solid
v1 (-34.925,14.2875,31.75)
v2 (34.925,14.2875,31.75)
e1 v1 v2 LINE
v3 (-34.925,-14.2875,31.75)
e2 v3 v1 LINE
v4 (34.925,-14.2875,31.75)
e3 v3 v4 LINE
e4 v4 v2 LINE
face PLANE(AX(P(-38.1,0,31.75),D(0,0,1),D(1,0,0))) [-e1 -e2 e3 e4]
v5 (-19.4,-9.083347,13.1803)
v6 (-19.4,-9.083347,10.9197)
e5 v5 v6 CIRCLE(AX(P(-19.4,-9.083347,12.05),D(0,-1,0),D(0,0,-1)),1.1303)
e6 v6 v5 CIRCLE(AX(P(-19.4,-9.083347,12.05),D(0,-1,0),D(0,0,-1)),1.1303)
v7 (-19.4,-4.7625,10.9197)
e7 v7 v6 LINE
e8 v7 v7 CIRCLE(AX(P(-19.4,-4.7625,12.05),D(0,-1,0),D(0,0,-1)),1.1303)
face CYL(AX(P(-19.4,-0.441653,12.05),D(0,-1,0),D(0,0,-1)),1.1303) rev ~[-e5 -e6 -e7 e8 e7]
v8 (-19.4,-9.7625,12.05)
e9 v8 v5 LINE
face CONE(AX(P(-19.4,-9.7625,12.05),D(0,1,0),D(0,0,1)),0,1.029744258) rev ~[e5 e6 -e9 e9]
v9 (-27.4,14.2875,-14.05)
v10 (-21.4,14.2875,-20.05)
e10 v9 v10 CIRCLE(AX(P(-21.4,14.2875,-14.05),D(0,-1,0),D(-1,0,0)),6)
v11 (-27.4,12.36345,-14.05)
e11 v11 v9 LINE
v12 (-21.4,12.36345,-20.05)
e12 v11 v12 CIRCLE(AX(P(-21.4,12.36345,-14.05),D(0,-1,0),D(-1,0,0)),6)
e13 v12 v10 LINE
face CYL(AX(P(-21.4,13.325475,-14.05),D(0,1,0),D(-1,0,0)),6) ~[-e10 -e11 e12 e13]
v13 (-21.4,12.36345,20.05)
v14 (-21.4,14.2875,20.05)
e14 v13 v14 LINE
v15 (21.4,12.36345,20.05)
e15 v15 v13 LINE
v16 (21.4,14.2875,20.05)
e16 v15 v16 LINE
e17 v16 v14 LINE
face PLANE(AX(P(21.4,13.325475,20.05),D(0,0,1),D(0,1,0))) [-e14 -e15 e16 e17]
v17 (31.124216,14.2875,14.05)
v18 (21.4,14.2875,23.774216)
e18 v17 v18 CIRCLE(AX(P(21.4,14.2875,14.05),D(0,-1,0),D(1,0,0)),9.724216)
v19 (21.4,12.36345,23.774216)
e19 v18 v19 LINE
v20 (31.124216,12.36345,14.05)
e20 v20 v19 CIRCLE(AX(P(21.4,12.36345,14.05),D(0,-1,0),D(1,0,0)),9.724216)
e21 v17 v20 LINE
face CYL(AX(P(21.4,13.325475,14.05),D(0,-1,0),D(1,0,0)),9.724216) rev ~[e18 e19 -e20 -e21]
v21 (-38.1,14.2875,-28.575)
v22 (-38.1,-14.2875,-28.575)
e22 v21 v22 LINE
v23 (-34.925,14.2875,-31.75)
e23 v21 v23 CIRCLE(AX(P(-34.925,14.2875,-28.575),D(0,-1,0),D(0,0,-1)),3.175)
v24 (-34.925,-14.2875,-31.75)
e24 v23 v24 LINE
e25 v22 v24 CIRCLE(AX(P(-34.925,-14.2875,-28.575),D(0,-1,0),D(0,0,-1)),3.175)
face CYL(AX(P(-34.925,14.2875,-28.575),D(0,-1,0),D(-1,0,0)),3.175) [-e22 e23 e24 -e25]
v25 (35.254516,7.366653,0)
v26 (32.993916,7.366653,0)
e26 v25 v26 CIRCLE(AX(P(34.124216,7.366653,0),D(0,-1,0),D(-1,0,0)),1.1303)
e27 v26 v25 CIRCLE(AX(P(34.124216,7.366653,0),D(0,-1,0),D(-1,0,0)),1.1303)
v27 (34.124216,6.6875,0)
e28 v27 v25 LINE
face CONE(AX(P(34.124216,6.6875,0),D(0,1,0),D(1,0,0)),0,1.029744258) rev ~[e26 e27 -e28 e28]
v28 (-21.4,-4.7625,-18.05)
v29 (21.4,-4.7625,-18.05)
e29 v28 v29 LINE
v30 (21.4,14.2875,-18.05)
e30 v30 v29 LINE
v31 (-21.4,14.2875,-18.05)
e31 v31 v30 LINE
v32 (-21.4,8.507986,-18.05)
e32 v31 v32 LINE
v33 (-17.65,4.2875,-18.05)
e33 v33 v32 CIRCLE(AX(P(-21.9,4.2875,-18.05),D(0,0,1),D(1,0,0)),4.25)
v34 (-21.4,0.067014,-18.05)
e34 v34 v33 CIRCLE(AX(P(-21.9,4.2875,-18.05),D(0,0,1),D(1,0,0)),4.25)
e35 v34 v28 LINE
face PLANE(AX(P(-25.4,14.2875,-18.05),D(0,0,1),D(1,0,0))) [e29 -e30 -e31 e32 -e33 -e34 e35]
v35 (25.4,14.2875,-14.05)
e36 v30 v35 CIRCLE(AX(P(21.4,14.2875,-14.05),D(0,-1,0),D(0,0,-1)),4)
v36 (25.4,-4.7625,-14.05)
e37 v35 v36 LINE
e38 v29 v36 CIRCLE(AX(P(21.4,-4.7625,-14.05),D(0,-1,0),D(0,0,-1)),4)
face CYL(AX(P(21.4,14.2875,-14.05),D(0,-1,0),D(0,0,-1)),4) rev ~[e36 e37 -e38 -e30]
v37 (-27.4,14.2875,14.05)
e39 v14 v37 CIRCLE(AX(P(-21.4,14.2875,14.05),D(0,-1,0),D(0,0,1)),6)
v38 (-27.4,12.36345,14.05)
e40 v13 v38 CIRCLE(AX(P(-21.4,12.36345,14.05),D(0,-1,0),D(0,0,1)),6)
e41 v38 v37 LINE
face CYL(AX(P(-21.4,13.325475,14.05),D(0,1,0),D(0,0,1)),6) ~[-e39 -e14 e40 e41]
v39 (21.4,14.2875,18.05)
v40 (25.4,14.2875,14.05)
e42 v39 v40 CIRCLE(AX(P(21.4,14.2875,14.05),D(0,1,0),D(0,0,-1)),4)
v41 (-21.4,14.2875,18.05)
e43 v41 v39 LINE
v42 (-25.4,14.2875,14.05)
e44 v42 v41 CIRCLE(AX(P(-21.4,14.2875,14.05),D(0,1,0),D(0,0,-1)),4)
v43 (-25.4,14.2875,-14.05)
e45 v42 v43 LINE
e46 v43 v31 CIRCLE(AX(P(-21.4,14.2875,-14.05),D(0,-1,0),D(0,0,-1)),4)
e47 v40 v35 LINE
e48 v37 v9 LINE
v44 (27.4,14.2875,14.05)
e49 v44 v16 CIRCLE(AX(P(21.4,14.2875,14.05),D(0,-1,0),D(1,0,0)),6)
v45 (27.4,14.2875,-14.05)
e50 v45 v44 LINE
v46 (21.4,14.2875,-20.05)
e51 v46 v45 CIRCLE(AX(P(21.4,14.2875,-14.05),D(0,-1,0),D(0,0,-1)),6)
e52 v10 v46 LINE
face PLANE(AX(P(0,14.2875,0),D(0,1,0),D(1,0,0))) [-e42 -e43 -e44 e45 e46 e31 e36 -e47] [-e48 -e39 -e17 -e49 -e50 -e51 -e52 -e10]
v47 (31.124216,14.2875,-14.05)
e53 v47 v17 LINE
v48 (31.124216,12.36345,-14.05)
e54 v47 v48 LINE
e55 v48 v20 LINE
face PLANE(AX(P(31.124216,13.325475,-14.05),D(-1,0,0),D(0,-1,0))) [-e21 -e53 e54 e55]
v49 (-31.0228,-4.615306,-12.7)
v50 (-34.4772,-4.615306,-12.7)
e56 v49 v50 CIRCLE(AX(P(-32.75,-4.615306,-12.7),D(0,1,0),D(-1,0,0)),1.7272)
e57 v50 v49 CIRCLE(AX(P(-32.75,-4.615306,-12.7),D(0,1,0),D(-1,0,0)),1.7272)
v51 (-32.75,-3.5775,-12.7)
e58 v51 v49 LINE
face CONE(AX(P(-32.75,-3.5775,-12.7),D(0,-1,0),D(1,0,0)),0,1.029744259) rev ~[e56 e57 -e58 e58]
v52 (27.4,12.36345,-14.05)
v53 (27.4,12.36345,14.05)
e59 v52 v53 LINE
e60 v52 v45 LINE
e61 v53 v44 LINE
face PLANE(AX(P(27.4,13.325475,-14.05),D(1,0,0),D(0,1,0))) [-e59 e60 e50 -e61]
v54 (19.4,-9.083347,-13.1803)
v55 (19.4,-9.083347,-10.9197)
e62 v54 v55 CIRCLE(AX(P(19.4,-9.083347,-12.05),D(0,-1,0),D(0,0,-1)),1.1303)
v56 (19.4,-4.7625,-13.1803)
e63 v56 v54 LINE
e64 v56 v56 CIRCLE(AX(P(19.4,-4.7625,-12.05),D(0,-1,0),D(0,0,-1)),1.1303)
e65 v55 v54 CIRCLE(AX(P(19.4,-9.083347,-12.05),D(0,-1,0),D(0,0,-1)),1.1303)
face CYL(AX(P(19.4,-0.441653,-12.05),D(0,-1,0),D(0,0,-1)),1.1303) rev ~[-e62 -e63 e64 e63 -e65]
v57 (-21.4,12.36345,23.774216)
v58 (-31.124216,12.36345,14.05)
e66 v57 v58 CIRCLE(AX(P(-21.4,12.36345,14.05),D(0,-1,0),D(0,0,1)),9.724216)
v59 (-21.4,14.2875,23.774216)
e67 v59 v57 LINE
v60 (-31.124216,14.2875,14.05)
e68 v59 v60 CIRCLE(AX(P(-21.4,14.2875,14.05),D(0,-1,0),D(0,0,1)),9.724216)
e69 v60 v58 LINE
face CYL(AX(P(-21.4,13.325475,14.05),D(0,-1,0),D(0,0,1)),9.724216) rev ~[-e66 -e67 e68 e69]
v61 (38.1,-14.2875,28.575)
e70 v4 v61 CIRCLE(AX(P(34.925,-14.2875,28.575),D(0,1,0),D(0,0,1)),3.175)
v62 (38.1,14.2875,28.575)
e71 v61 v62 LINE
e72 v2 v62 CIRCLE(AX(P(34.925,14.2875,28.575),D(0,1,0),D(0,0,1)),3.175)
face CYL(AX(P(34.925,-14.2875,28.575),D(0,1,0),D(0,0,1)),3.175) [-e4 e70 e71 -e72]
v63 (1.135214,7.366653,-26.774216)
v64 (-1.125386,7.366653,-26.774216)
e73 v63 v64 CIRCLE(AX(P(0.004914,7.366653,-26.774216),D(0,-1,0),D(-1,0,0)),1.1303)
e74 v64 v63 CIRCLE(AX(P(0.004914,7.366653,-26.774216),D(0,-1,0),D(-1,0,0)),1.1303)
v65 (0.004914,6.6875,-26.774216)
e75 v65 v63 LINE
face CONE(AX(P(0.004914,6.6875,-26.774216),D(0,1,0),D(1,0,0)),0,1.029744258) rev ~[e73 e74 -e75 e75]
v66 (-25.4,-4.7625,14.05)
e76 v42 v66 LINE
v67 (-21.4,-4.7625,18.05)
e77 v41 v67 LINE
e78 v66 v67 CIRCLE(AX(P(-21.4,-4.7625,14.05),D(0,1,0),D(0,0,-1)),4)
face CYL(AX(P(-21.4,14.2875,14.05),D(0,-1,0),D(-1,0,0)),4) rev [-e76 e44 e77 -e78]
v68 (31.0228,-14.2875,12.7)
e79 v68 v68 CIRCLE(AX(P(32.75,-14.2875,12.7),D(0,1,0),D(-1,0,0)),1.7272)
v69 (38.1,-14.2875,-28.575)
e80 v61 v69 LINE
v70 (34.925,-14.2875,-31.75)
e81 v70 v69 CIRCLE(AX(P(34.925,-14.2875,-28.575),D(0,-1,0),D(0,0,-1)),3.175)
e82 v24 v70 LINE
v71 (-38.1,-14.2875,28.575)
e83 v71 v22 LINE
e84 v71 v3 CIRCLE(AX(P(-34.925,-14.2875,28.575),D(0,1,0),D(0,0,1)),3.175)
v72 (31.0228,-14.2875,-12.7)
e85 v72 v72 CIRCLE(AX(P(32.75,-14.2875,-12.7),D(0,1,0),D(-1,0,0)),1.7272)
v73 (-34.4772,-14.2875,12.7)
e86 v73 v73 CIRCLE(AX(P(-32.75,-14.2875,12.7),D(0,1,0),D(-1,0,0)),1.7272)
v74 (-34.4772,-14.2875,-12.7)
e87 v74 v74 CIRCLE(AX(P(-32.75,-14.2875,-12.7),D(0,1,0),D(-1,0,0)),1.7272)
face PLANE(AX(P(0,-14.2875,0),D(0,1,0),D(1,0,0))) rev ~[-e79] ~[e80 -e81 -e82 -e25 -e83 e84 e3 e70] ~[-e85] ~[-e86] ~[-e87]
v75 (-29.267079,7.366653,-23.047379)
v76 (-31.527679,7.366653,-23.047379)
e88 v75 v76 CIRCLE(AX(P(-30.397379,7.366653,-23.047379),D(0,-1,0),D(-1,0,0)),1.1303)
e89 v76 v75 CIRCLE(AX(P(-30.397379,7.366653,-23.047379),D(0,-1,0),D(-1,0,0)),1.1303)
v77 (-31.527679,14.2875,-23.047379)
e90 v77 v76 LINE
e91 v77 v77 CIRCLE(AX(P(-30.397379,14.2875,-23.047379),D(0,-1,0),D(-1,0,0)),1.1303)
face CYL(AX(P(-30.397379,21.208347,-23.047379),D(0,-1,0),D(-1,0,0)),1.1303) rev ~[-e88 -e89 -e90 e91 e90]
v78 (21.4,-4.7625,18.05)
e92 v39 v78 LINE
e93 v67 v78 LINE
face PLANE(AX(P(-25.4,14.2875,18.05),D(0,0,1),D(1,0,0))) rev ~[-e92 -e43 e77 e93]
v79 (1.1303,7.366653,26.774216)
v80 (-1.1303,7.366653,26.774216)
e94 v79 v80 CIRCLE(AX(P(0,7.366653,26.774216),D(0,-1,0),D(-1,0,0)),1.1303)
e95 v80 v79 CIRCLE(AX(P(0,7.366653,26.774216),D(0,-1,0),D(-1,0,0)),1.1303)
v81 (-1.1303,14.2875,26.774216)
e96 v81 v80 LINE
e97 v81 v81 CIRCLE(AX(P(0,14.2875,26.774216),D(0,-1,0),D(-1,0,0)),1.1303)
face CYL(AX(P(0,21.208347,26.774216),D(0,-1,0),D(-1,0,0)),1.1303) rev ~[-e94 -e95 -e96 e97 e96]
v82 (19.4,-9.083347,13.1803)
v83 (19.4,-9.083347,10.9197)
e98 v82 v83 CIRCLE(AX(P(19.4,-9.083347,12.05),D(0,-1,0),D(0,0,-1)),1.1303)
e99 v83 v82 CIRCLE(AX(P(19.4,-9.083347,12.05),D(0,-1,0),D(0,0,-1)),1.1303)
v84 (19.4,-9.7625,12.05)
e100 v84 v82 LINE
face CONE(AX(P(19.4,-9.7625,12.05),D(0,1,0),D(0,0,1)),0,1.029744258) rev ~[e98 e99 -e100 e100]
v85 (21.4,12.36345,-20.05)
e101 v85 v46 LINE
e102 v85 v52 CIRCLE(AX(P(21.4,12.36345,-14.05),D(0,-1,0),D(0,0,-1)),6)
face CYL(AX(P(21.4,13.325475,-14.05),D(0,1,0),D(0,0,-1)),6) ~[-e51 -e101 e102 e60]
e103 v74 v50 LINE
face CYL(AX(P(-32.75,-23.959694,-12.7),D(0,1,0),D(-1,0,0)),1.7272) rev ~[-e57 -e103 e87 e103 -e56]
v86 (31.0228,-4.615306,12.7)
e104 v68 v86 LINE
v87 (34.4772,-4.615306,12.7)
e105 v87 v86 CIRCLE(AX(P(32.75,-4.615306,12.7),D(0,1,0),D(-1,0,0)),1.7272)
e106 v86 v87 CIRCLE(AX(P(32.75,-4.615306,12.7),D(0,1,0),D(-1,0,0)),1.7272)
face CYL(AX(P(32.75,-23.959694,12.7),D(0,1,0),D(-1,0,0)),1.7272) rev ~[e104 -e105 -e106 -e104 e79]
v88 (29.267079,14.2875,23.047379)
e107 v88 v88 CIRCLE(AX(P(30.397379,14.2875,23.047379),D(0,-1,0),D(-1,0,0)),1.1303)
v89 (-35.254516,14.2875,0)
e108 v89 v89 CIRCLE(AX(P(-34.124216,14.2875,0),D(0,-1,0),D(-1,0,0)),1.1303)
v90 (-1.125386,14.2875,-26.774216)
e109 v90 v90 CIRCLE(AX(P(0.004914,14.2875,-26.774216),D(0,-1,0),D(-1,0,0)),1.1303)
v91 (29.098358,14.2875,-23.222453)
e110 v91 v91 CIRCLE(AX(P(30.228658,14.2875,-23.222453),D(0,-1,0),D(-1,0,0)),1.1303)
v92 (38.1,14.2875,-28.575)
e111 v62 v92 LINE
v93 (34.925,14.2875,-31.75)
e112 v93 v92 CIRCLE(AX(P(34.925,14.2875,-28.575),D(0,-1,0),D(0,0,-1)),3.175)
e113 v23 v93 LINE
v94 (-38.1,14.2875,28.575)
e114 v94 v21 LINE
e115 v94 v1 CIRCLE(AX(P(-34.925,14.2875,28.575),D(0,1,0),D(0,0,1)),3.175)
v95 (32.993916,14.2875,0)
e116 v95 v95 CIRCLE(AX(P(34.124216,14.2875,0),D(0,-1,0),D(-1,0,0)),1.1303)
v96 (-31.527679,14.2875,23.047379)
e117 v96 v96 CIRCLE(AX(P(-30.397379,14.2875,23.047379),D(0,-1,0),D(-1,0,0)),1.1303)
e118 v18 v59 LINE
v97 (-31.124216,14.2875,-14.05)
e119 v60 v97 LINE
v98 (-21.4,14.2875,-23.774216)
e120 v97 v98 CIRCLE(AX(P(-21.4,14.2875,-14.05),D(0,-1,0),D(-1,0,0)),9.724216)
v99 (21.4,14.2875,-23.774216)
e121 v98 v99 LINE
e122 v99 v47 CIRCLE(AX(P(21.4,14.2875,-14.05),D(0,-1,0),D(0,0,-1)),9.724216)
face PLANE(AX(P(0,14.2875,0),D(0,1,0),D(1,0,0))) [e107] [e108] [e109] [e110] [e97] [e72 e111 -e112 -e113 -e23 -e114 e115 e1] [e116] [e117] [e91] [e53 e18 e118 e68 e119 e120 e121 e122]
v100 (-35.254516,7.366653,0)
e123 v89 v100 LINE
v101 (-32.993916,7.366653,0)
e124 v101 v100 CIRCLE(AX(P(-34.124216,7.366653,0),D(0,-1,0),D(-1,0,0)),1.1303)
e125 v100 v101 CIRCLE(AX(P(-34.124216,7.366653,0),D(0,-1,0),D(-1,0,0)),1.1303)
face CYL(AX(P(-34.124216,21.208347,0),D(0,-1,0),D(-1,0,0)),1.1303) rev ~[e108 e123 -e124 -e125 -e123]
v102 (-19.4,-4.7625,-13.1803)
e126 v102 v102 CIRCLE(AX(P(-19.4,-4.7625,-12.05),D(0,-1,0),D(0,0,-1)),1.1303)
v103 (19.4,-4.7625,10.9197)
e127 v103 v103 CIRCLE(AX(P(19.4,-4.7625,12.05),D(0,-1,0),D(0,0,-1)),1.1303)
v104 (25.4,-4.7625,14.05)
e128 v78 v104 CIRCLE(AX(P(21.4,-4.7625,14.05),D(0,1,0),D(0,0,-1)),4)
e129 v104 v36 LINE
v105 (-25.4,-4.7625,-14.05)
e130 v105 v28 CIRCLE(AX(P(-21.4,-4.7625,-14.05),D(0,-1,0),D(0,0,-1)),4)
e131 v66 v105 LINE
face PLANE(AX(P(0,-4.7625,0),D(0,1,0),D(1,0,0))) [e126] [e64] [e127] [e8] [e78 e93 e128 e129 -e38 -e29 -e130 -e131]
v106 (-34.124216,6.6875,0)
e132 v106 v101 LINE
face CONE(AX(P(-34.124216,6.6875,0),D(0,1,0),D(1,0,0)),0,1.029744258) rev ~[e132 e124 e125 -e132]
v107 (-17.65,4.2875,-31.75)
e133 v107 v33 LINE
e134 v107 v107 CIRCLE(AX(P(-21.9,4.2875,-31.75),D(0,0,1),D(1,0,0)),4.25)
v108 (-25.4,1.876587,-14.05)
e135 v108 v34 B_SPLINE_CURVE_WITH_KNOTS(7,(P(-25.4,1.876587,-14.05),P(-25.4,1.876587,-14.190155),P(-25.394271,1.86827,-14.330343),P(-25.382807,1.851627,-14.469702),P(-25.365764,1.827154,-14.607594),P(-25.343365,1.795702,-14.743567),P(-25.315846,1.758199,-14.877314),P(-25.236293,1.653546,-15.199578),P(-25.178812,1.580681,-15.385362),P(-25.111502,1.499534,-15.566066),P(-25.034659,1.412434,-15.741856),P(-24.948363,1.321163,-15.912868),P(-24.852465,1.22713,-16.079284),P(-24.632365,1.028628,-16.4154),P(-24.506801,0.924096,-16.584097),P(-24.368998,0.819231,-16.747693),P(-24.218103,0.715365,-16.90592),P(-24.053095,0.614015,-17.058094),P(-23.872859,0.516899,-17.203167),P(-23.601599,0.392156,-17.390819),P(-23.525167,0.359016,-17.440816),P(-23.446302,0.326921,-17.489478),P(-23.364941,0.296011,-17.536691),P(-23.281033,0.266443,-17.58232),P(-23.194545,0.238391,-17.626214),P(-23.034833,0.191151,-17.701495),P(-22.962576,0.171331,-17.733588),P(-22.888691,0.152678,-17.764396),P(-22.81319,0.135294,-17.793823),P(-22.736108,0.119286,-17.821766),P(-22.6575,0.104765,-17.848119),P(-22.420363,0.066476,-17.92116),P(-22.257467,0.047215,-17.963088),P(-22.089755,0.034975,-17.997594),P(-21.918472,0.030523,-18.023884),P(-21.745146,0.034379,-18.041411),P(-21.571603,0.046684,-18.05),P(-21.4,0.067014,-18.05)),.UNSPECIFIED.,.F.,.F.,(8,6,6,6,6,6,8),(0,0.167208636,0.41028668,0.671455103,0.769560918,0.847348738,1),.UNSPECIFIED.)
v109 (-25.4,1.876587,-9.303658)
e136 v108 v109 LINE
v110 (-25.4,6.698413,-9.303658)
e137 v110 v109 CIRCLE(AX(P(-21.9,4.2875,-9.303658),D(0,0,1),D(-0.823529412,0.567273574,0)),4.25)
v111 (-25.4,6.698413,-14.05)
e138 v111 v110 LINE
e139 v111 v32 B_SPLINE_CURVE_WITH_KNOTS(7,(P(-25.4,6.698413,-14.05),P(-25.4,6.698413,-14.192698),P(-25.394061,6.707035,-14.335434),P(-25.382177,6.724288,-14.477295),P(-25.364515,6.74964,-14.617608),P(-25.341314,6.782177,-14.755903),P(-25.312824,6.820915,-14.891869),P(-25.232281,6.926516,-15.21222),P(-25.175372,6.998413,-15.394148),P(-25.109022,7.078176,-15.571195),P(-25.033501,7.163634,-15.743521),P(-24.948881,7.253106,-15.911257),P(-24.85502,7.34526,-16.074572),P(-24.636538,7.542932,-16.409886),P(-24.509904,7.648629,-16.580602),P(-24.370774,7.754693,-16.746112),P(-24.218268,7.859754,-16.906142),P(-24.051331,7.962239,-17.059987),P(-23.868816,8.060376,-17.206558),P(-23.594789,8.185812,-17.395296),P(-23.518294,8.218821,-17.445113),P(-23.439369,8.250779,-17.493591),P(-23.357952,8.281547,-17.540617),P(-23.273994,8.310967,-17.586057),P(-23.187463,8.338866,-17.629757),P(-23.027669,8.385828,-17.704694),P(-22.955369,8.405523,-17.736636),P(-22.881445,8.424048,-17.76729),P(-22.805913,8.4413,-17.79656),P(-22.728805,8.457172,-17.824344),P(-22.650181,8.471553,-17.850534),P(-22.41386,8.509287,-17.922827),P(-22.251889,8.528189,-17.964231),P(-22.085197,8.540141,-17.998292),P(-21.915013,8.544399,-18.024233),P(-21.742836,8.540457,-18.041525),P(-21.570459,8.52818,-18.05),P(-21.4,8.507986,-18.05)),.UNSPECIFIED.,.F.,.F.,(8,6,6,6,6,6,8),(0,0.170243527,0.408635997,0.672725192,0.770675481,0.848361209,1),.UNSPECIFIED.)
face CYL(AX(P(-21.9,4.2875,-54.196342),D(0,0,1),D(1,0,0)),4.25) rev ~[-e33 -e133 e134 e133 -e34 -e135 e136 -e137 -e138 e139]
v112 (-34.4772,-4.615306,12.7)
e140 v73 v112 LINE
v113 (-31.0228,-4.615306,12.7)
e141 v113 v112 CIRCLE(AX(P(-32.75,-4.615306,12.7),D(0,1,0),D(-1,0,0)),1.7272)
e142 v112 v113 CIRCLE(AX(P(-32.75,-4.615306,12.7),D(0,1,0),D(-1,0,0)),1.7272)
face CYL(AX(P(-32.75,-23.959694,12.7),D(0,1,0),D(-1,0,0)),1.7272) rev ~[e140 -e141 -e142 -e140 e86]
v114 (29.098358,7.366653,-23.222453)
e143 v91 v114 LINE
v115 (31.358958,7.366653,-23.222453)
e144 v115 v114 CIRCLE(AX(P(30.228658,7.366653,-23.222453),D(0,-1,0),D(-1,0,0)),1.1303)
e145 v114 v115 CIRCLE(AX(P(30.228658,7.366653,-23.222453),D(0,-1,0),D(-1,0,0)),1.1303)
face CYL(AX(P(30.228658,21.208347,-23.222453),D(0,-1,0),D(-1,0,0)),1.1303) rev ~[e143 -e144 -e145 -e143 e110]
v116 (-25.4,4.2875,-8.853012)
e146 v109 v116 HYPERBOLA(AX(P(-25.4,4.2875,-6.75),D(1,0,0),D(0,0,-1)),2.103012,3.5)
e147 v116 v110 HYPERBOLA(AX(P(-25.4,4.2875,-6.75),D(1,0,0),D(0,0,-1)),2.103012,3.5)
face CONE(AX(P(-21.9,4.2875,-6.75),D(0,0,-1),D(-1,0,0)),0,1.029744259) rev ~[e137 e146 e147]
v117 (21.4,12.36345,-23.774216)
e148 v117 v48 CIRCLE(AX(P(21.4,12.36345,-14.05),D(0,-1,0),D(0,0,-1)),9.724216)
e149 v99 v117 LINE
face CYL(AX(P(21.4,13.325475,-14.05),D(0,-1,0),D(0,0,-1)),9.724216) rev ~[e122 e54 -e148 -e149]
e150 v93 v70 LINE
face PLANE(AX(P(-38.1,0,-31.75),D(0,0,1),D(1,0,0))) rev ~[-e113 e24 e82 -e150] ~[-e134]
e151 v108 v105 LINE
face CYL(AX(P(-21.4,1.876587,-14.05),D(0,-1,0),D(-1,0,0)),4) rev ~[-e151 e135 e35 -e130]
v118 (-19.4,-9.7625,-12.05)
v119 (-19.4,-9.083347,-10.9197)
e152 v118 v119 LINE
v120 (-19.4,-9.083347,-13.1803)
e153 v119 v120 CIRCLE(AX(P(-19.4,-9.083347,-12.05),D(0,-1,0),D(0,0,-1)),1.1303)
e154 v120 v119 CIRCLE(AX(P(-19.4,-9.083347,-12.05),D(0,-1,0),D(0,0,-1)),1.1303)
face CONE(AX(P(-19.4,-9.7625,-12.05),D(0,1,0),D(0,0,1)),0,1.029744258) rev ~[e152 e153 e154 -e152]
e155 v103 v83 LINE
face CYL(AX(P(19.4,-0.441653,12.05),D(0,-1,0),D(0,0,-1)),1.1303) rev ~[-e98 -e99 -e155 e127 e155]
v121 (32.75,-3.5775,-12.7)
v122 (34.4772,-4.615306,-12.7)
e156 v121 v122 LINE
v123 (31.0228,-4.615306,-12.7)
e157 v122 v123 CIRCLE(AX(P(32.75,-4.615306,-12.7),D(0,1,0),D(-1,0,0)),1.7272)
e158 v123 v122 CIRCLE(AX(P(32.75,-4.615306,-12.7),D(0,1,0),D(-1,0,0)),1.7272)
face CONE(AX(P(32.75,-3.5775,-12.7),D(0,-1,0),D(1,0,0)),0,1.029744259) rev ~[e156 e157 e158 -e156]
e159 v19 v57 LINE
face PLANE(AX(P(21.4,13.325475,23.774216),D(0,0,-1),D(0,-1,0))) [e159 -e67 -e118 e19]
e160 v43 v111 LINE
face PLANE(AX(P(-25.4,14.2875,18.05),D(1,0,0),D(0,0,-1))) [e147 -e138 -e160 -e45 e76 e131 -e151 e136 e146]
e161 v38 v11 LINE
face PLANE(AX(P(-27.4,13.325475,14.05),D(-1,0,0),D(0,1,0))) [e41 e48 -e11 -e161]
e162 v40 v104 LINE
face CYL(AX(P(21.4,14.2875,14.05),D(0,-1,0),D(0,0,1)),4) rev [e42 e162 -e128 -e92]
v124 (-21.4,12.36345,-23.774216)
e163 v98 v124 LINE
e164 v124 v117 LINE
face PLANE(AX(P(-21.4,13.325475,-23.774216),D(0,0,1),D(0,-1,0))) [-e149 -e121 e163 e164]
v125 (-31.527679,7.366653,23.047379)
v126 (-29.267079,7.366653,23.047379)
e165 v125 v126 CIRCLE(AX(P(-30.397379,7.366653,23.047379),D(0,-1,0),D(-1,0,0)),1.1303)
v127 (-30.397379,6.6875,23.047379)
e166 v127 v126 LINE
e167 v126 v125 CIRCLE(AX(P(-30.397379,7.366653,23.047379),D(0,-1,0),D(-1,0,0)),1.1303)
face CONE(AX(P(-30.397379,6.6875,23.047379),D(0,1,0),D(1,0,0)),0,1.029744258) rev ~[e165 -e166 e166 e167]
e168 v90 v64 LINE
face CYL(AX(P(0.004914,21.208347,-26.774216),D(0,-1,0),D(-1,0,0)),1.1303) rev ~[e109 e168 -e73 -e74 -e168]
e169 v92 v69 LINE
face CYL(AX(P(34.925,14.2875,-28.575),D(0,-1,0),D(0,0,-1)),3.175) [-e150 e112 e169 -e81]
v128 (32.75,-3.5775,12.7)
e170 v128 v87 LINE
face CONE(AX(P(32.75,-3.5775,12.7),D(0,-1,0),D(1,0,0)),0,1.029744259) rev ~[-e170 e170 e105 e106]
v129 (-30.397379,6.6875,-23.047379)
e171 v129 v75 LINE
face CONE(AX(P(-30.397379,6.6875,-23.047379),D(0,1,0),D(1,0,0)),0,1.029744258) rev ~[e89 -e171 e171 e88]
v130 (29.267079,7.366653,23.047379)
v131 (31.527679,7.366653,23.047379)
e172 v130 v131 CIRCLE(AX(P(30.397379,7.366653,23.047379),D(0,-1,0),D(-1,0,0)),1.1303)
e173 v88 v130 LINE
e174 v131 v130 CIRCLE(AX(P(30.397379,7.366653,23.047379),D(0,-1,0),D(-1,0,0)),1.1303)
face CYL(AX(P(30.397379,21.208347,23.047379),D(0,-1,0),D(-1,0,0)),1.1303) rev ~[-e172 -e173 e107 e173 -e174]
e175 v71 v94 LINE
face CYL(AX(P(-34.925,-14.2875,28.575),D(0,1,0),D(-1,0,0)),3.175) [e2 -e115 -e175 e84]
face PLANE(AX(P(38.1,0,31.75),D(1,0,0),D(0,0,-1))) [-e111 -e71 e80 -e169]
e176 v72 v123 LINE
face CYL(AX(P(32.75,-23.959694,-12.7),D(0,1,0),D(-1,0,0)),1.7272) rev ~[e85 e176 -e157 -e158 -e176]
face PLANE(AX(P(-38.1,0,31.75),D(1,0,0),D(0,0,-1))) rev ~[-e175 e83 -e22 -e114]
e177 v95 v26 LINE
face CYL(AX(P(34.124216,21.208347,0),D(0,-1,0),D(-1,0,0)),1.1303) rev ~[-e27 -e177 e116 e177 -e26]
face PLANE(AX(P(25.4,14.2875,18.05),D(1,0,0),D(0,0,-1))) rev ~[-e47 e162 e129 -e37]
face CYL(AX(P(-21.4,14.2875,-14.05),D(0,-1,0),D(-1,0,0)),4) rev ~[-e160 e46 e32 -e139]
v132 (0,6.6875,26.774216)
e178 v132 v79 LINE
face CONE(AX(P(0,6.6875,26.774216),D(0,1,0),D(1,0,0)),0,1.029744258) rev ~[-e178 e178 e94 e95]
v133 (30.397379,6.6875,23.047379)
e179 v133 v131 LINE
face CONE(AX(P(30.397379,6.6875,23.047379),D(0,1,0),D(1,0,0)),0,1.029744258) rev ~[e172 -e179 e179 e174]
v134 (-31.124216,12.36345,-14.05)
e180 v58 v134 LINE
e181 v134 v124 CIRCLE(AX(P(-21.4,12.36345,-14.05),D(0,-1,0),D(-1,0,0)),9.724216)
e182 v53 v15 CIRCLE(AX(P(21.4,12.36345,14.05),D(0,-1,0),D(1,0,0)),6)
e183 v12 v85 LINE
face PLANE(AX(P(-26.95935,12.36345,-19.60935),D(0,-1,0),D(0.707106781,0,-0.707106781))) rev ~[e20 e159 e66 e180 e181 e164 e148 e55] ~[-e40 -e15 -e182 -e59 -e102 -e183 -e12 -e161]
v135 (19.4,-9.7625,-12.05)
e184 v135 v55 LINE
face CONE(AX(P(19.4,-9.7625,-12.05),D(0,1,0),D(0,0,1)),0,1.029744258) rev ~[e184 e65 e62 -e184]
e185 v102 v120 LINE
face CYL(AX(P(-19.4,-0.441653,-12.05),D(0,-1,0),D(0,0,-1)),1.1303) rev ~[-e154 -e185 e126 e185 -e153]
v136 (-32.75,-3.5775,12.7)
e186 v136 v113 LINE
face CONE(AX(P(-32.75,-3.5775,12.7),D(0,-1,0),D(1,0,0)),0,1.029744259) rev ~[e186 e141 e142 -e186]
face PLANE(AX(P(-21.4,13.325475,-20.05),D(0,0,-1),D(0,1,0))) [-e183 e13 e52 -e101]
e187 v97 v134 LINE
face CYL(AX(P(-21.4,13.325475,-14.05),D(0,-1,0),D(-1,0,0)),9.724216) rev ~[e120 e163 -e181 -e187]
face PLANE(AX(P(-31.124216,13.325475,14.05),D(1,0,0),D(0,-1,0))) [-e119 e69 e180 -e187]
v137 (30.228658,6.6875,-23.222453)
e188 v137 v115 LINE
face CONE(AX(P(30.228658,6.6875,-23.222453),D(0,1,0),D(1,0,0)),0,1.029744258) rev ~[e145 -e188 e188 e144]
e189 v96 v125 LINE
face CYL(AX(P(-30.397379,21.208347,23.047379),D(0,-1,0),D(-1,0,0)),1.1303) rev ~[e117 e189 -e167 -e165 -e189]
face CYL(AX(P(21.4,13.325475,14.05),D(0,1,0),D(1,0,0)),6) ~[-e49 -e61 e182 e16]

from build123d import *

# Parameters (mm, degrees)
SKETCH1_W                  = 76.2
SKETCH1_H                  = 63.5
BOSS_EXTRUDE1_DEPTH        = 14.2875
SKETCH2_W                  = 50.8
SKETCH2_H                  = 36.1
CUT_EXTRUDE1_DEPTH         = 19.05
M10X1_5_TAPPED_HOLE1_D     = 8.5
M10X1_5_TAPPED_HOLE1_DEPTH = 22.446342369
M10X1_5_TAPPED_HOLE1_TIP   = 2.553657631
SKETCH16_W                 = 3.724215622
SKETCH16_H                 = 1.92405
FILLET2_R                  = 3.175
F_4_40_TAPPED_HOLE2_D      = 2.2606
F_4_40_TAPPED_HOLE2_DEPTH  = 6.920847242
F_4_40_TAPPED_HOLE2_TIP    = 0.679152758
FILLET3_R                  = 4
F_4_40_TAPPED_HOLE3_D      = 2.2606
F_4_40_TAPPED_HOLE3_DEPTH  = 4.320847242
F_4_40_TAPPED_HOLE3_TIP    = 0.679152758
F_8_32_TAPPED_HOLE1_D      = 3.4544
F_8_32_TAPPED_HOLE1_DEPTH  = 9.672193539
F_8_32_TAPPED_HOLE1_TIP    = 1.037806461


with BuildPart() as part:
    # Sketch1 → Boss-Extrude1 (new body, symmetric)
    with BuildSketch(Plane(origin=(0, 0, 0), x_dir=(1, 0, 0), z_dir=(0, 1, 0))):
        Rectangle(SKETCH1_W, SKETCH1_H)
    extrude(amount=BOSS_EXTRUDE1_DEPTH, both=True)

    # Sketch2 → Cut-Extrude1 (cut)
    with BuildSketch(Plane(origin=(0, 14.2875, 0), x_dir=(1, 0, 0), z_dir=(0, 1, 0))):
        Rectangle(SKETCH2_W, SKETCH2_H)
    extrude(amount=-CUT_EXTRUDE1_DEPTH, mode=Mode.SUBTRACT)

    # M10x1.5 Tapped Hole1
    with Locations(Plane(origin=(-21.9, 4.2875, -31.75), x_dir=(-1, 0, 0), z_dir=(0, 0, -1))):
        with Locations((0, 0)):
            Hole(M10X1_5_TAPPED_HOLE1_D / 2, depth=M10X1_5_TAPPED_HOLE1_DEPTH)
            with Locations((0, 0, -(M10X1_5_TAPPED_HOLE1_DEPTH + M10X1_5_TAPPED_HOLE1_TIP / 2))):  # 118° drill point
                Cone(0, M10X1_5_TAPPED_HOLE1_D / 2, M10X1_5_TAPPED_HOLE1_TIP, mode=Mode.SUBTRACT)

    # Cut-Sweep1: sweep along a path in Sketch14
    with BuildLine(Plane(origin=(0, 14.2875, 0), x_dir=(1, 0, 0), z_dir=(0, 1, 0))) as cut_sweep1_path:
        Line((-21.4, 20.05), (21.4, 20.05))
        ThreePointArc((21.4, 20.05), (25.642640687, 18.292640687), (27.4, 14.05))
        Line((27.4, 14.05), (27.4, -14.05))
        ThreePointArc((27.4, -14.05), (25.642640687, -18.292640687), (21.4, -20.05))
        Line((21.4, -20.05), (-21.4, -20.05))
        ThreePointArc((-21.4, -20.05), (-25.642640687, -18.292640687), (-27.4, -14.05))
        Line((-27.4, -14.05), (-27.4, 14.05))
        ThreePointArc((-27.4, 14.05), (-25.642640687, 18.292640687), (-21.4, 20.05))
    # Sketch16 → Cut-Sweep1 (sweep, cut)
    with BuildSketch(Plane.XY):
        with Locations((-29.262107811, 13.325475)):
            Rectangle(SKETCH16_W, SKETCH16_H)
    sweep(path=cut_sweep1_path.line, mode=Mode.SUBTRACT)

    # Fillet2
    fillet2_edges = [part.edges().sort_by_distance(p)[0] for p in [
        (38.1, 0, 31.75),
        (-38.1, 0, 31.75),
        (-38.1, 0, -31.75),
        (38.1, 0, -31.75),
    ]]
    fillet(fillet2_edges, radius=FILLET2_R)

    # #4-40 Tapped Hole2
    with Locations(Plane(origin=(0, 14.2875, 0), x_dir=(1, 0, 0), z_dir=(0, 1, 0))):
        with Locations((34.124215622, 0), (30.228658441, 23.222452534), (-30.397379151, 23.047379151), (30.397379151, -23.047379151), (-30.397379151, -23.047379151), (0, -26.774215622), (-34.124215622, 0), (0.004913792, 26.774215622)):
            Hole(F_4_40_TAPPED_HOLE2_D / 2, depth=F_4_40_TAPPED_HOLE2_DEPTH)
            with Locations((0, 0, -(F_4_40_TAPPED_HOLE2_DEPTH + F_4_40_TAPPED_HOLE2_TIP / 2))):  # 118° drill point
                Cone(0, F_4_40_TAPPED_HOLE2_D / 2, F_4_40_TAPPED_HOLE2_TIP, mode=Mode.SUBTRACT)

    # Fillet3
    fillet3_edges = [part.edges().sort_by_distance(p)[0] for p in [
        (25.4, 4.7625, -18.05),
        (25.4, 4.7625, 18.05),
        (-25.4, 4.7625, 18.05),
        (-25.4, -1.442956345, -18.05),
        (-25.4, 10.492956345, -18.05),
    ]]
    fillet(fillet3_edges, radius=FILLET3_R)

    # #4-40 Tapped Hole3
    with Locations(Plane(origin=(19.4, -4.7625, -12.05), x_dir=(0, 0, 1), z_dir=(0, 1, 0))):
        with Locations((0, 0), (24.1, 0), (24.1, -38.8), (0, -38.8)):
            Hole(F_4_40_TAPPED_HOLE3_D / 2, depth=F_4_40_TAPPED_HOLE3_DEPTH)
            with Locations((0, 0, -(F_4_40_TAPPED_HOLE3_DEPTH + F_4_40_TAPPED_HOLE3_TIP / 2))):  # 118° drill point
                Cone(0, F_4_40_TAPPED_HOLE3_D / 2, F_4_40_TAPPED_HOLE3_TIP, mode=Mode.SUBTRACT)

    # #8-32 Tapped Hole1
    with Locations(Plane.XZ.offset(14.2875)):
        with Locations((32.75, -12.7), (-32.75, 12.7), (-32.75, -12.7), (32.75, 12.7)):
            Hole(F_8_32_TAPPED_HOLE1_D / 2, depth=F_8_32_TAPPED_HOLE1_DEPTH)
            with Locations((0, 0, -(F_8_32_TAPPED_HOLE1_DEPTH + F_8_32_TAPPED_HOLE1_TIP / 2))):  # 118° drill point
                Cone(0, F_8_32_TAPPED_HOLE1_D / 2, F_8_32_TAPPED_HOLE1_TIP, mode=Mode.SUBTRACT)


solid = part.part
